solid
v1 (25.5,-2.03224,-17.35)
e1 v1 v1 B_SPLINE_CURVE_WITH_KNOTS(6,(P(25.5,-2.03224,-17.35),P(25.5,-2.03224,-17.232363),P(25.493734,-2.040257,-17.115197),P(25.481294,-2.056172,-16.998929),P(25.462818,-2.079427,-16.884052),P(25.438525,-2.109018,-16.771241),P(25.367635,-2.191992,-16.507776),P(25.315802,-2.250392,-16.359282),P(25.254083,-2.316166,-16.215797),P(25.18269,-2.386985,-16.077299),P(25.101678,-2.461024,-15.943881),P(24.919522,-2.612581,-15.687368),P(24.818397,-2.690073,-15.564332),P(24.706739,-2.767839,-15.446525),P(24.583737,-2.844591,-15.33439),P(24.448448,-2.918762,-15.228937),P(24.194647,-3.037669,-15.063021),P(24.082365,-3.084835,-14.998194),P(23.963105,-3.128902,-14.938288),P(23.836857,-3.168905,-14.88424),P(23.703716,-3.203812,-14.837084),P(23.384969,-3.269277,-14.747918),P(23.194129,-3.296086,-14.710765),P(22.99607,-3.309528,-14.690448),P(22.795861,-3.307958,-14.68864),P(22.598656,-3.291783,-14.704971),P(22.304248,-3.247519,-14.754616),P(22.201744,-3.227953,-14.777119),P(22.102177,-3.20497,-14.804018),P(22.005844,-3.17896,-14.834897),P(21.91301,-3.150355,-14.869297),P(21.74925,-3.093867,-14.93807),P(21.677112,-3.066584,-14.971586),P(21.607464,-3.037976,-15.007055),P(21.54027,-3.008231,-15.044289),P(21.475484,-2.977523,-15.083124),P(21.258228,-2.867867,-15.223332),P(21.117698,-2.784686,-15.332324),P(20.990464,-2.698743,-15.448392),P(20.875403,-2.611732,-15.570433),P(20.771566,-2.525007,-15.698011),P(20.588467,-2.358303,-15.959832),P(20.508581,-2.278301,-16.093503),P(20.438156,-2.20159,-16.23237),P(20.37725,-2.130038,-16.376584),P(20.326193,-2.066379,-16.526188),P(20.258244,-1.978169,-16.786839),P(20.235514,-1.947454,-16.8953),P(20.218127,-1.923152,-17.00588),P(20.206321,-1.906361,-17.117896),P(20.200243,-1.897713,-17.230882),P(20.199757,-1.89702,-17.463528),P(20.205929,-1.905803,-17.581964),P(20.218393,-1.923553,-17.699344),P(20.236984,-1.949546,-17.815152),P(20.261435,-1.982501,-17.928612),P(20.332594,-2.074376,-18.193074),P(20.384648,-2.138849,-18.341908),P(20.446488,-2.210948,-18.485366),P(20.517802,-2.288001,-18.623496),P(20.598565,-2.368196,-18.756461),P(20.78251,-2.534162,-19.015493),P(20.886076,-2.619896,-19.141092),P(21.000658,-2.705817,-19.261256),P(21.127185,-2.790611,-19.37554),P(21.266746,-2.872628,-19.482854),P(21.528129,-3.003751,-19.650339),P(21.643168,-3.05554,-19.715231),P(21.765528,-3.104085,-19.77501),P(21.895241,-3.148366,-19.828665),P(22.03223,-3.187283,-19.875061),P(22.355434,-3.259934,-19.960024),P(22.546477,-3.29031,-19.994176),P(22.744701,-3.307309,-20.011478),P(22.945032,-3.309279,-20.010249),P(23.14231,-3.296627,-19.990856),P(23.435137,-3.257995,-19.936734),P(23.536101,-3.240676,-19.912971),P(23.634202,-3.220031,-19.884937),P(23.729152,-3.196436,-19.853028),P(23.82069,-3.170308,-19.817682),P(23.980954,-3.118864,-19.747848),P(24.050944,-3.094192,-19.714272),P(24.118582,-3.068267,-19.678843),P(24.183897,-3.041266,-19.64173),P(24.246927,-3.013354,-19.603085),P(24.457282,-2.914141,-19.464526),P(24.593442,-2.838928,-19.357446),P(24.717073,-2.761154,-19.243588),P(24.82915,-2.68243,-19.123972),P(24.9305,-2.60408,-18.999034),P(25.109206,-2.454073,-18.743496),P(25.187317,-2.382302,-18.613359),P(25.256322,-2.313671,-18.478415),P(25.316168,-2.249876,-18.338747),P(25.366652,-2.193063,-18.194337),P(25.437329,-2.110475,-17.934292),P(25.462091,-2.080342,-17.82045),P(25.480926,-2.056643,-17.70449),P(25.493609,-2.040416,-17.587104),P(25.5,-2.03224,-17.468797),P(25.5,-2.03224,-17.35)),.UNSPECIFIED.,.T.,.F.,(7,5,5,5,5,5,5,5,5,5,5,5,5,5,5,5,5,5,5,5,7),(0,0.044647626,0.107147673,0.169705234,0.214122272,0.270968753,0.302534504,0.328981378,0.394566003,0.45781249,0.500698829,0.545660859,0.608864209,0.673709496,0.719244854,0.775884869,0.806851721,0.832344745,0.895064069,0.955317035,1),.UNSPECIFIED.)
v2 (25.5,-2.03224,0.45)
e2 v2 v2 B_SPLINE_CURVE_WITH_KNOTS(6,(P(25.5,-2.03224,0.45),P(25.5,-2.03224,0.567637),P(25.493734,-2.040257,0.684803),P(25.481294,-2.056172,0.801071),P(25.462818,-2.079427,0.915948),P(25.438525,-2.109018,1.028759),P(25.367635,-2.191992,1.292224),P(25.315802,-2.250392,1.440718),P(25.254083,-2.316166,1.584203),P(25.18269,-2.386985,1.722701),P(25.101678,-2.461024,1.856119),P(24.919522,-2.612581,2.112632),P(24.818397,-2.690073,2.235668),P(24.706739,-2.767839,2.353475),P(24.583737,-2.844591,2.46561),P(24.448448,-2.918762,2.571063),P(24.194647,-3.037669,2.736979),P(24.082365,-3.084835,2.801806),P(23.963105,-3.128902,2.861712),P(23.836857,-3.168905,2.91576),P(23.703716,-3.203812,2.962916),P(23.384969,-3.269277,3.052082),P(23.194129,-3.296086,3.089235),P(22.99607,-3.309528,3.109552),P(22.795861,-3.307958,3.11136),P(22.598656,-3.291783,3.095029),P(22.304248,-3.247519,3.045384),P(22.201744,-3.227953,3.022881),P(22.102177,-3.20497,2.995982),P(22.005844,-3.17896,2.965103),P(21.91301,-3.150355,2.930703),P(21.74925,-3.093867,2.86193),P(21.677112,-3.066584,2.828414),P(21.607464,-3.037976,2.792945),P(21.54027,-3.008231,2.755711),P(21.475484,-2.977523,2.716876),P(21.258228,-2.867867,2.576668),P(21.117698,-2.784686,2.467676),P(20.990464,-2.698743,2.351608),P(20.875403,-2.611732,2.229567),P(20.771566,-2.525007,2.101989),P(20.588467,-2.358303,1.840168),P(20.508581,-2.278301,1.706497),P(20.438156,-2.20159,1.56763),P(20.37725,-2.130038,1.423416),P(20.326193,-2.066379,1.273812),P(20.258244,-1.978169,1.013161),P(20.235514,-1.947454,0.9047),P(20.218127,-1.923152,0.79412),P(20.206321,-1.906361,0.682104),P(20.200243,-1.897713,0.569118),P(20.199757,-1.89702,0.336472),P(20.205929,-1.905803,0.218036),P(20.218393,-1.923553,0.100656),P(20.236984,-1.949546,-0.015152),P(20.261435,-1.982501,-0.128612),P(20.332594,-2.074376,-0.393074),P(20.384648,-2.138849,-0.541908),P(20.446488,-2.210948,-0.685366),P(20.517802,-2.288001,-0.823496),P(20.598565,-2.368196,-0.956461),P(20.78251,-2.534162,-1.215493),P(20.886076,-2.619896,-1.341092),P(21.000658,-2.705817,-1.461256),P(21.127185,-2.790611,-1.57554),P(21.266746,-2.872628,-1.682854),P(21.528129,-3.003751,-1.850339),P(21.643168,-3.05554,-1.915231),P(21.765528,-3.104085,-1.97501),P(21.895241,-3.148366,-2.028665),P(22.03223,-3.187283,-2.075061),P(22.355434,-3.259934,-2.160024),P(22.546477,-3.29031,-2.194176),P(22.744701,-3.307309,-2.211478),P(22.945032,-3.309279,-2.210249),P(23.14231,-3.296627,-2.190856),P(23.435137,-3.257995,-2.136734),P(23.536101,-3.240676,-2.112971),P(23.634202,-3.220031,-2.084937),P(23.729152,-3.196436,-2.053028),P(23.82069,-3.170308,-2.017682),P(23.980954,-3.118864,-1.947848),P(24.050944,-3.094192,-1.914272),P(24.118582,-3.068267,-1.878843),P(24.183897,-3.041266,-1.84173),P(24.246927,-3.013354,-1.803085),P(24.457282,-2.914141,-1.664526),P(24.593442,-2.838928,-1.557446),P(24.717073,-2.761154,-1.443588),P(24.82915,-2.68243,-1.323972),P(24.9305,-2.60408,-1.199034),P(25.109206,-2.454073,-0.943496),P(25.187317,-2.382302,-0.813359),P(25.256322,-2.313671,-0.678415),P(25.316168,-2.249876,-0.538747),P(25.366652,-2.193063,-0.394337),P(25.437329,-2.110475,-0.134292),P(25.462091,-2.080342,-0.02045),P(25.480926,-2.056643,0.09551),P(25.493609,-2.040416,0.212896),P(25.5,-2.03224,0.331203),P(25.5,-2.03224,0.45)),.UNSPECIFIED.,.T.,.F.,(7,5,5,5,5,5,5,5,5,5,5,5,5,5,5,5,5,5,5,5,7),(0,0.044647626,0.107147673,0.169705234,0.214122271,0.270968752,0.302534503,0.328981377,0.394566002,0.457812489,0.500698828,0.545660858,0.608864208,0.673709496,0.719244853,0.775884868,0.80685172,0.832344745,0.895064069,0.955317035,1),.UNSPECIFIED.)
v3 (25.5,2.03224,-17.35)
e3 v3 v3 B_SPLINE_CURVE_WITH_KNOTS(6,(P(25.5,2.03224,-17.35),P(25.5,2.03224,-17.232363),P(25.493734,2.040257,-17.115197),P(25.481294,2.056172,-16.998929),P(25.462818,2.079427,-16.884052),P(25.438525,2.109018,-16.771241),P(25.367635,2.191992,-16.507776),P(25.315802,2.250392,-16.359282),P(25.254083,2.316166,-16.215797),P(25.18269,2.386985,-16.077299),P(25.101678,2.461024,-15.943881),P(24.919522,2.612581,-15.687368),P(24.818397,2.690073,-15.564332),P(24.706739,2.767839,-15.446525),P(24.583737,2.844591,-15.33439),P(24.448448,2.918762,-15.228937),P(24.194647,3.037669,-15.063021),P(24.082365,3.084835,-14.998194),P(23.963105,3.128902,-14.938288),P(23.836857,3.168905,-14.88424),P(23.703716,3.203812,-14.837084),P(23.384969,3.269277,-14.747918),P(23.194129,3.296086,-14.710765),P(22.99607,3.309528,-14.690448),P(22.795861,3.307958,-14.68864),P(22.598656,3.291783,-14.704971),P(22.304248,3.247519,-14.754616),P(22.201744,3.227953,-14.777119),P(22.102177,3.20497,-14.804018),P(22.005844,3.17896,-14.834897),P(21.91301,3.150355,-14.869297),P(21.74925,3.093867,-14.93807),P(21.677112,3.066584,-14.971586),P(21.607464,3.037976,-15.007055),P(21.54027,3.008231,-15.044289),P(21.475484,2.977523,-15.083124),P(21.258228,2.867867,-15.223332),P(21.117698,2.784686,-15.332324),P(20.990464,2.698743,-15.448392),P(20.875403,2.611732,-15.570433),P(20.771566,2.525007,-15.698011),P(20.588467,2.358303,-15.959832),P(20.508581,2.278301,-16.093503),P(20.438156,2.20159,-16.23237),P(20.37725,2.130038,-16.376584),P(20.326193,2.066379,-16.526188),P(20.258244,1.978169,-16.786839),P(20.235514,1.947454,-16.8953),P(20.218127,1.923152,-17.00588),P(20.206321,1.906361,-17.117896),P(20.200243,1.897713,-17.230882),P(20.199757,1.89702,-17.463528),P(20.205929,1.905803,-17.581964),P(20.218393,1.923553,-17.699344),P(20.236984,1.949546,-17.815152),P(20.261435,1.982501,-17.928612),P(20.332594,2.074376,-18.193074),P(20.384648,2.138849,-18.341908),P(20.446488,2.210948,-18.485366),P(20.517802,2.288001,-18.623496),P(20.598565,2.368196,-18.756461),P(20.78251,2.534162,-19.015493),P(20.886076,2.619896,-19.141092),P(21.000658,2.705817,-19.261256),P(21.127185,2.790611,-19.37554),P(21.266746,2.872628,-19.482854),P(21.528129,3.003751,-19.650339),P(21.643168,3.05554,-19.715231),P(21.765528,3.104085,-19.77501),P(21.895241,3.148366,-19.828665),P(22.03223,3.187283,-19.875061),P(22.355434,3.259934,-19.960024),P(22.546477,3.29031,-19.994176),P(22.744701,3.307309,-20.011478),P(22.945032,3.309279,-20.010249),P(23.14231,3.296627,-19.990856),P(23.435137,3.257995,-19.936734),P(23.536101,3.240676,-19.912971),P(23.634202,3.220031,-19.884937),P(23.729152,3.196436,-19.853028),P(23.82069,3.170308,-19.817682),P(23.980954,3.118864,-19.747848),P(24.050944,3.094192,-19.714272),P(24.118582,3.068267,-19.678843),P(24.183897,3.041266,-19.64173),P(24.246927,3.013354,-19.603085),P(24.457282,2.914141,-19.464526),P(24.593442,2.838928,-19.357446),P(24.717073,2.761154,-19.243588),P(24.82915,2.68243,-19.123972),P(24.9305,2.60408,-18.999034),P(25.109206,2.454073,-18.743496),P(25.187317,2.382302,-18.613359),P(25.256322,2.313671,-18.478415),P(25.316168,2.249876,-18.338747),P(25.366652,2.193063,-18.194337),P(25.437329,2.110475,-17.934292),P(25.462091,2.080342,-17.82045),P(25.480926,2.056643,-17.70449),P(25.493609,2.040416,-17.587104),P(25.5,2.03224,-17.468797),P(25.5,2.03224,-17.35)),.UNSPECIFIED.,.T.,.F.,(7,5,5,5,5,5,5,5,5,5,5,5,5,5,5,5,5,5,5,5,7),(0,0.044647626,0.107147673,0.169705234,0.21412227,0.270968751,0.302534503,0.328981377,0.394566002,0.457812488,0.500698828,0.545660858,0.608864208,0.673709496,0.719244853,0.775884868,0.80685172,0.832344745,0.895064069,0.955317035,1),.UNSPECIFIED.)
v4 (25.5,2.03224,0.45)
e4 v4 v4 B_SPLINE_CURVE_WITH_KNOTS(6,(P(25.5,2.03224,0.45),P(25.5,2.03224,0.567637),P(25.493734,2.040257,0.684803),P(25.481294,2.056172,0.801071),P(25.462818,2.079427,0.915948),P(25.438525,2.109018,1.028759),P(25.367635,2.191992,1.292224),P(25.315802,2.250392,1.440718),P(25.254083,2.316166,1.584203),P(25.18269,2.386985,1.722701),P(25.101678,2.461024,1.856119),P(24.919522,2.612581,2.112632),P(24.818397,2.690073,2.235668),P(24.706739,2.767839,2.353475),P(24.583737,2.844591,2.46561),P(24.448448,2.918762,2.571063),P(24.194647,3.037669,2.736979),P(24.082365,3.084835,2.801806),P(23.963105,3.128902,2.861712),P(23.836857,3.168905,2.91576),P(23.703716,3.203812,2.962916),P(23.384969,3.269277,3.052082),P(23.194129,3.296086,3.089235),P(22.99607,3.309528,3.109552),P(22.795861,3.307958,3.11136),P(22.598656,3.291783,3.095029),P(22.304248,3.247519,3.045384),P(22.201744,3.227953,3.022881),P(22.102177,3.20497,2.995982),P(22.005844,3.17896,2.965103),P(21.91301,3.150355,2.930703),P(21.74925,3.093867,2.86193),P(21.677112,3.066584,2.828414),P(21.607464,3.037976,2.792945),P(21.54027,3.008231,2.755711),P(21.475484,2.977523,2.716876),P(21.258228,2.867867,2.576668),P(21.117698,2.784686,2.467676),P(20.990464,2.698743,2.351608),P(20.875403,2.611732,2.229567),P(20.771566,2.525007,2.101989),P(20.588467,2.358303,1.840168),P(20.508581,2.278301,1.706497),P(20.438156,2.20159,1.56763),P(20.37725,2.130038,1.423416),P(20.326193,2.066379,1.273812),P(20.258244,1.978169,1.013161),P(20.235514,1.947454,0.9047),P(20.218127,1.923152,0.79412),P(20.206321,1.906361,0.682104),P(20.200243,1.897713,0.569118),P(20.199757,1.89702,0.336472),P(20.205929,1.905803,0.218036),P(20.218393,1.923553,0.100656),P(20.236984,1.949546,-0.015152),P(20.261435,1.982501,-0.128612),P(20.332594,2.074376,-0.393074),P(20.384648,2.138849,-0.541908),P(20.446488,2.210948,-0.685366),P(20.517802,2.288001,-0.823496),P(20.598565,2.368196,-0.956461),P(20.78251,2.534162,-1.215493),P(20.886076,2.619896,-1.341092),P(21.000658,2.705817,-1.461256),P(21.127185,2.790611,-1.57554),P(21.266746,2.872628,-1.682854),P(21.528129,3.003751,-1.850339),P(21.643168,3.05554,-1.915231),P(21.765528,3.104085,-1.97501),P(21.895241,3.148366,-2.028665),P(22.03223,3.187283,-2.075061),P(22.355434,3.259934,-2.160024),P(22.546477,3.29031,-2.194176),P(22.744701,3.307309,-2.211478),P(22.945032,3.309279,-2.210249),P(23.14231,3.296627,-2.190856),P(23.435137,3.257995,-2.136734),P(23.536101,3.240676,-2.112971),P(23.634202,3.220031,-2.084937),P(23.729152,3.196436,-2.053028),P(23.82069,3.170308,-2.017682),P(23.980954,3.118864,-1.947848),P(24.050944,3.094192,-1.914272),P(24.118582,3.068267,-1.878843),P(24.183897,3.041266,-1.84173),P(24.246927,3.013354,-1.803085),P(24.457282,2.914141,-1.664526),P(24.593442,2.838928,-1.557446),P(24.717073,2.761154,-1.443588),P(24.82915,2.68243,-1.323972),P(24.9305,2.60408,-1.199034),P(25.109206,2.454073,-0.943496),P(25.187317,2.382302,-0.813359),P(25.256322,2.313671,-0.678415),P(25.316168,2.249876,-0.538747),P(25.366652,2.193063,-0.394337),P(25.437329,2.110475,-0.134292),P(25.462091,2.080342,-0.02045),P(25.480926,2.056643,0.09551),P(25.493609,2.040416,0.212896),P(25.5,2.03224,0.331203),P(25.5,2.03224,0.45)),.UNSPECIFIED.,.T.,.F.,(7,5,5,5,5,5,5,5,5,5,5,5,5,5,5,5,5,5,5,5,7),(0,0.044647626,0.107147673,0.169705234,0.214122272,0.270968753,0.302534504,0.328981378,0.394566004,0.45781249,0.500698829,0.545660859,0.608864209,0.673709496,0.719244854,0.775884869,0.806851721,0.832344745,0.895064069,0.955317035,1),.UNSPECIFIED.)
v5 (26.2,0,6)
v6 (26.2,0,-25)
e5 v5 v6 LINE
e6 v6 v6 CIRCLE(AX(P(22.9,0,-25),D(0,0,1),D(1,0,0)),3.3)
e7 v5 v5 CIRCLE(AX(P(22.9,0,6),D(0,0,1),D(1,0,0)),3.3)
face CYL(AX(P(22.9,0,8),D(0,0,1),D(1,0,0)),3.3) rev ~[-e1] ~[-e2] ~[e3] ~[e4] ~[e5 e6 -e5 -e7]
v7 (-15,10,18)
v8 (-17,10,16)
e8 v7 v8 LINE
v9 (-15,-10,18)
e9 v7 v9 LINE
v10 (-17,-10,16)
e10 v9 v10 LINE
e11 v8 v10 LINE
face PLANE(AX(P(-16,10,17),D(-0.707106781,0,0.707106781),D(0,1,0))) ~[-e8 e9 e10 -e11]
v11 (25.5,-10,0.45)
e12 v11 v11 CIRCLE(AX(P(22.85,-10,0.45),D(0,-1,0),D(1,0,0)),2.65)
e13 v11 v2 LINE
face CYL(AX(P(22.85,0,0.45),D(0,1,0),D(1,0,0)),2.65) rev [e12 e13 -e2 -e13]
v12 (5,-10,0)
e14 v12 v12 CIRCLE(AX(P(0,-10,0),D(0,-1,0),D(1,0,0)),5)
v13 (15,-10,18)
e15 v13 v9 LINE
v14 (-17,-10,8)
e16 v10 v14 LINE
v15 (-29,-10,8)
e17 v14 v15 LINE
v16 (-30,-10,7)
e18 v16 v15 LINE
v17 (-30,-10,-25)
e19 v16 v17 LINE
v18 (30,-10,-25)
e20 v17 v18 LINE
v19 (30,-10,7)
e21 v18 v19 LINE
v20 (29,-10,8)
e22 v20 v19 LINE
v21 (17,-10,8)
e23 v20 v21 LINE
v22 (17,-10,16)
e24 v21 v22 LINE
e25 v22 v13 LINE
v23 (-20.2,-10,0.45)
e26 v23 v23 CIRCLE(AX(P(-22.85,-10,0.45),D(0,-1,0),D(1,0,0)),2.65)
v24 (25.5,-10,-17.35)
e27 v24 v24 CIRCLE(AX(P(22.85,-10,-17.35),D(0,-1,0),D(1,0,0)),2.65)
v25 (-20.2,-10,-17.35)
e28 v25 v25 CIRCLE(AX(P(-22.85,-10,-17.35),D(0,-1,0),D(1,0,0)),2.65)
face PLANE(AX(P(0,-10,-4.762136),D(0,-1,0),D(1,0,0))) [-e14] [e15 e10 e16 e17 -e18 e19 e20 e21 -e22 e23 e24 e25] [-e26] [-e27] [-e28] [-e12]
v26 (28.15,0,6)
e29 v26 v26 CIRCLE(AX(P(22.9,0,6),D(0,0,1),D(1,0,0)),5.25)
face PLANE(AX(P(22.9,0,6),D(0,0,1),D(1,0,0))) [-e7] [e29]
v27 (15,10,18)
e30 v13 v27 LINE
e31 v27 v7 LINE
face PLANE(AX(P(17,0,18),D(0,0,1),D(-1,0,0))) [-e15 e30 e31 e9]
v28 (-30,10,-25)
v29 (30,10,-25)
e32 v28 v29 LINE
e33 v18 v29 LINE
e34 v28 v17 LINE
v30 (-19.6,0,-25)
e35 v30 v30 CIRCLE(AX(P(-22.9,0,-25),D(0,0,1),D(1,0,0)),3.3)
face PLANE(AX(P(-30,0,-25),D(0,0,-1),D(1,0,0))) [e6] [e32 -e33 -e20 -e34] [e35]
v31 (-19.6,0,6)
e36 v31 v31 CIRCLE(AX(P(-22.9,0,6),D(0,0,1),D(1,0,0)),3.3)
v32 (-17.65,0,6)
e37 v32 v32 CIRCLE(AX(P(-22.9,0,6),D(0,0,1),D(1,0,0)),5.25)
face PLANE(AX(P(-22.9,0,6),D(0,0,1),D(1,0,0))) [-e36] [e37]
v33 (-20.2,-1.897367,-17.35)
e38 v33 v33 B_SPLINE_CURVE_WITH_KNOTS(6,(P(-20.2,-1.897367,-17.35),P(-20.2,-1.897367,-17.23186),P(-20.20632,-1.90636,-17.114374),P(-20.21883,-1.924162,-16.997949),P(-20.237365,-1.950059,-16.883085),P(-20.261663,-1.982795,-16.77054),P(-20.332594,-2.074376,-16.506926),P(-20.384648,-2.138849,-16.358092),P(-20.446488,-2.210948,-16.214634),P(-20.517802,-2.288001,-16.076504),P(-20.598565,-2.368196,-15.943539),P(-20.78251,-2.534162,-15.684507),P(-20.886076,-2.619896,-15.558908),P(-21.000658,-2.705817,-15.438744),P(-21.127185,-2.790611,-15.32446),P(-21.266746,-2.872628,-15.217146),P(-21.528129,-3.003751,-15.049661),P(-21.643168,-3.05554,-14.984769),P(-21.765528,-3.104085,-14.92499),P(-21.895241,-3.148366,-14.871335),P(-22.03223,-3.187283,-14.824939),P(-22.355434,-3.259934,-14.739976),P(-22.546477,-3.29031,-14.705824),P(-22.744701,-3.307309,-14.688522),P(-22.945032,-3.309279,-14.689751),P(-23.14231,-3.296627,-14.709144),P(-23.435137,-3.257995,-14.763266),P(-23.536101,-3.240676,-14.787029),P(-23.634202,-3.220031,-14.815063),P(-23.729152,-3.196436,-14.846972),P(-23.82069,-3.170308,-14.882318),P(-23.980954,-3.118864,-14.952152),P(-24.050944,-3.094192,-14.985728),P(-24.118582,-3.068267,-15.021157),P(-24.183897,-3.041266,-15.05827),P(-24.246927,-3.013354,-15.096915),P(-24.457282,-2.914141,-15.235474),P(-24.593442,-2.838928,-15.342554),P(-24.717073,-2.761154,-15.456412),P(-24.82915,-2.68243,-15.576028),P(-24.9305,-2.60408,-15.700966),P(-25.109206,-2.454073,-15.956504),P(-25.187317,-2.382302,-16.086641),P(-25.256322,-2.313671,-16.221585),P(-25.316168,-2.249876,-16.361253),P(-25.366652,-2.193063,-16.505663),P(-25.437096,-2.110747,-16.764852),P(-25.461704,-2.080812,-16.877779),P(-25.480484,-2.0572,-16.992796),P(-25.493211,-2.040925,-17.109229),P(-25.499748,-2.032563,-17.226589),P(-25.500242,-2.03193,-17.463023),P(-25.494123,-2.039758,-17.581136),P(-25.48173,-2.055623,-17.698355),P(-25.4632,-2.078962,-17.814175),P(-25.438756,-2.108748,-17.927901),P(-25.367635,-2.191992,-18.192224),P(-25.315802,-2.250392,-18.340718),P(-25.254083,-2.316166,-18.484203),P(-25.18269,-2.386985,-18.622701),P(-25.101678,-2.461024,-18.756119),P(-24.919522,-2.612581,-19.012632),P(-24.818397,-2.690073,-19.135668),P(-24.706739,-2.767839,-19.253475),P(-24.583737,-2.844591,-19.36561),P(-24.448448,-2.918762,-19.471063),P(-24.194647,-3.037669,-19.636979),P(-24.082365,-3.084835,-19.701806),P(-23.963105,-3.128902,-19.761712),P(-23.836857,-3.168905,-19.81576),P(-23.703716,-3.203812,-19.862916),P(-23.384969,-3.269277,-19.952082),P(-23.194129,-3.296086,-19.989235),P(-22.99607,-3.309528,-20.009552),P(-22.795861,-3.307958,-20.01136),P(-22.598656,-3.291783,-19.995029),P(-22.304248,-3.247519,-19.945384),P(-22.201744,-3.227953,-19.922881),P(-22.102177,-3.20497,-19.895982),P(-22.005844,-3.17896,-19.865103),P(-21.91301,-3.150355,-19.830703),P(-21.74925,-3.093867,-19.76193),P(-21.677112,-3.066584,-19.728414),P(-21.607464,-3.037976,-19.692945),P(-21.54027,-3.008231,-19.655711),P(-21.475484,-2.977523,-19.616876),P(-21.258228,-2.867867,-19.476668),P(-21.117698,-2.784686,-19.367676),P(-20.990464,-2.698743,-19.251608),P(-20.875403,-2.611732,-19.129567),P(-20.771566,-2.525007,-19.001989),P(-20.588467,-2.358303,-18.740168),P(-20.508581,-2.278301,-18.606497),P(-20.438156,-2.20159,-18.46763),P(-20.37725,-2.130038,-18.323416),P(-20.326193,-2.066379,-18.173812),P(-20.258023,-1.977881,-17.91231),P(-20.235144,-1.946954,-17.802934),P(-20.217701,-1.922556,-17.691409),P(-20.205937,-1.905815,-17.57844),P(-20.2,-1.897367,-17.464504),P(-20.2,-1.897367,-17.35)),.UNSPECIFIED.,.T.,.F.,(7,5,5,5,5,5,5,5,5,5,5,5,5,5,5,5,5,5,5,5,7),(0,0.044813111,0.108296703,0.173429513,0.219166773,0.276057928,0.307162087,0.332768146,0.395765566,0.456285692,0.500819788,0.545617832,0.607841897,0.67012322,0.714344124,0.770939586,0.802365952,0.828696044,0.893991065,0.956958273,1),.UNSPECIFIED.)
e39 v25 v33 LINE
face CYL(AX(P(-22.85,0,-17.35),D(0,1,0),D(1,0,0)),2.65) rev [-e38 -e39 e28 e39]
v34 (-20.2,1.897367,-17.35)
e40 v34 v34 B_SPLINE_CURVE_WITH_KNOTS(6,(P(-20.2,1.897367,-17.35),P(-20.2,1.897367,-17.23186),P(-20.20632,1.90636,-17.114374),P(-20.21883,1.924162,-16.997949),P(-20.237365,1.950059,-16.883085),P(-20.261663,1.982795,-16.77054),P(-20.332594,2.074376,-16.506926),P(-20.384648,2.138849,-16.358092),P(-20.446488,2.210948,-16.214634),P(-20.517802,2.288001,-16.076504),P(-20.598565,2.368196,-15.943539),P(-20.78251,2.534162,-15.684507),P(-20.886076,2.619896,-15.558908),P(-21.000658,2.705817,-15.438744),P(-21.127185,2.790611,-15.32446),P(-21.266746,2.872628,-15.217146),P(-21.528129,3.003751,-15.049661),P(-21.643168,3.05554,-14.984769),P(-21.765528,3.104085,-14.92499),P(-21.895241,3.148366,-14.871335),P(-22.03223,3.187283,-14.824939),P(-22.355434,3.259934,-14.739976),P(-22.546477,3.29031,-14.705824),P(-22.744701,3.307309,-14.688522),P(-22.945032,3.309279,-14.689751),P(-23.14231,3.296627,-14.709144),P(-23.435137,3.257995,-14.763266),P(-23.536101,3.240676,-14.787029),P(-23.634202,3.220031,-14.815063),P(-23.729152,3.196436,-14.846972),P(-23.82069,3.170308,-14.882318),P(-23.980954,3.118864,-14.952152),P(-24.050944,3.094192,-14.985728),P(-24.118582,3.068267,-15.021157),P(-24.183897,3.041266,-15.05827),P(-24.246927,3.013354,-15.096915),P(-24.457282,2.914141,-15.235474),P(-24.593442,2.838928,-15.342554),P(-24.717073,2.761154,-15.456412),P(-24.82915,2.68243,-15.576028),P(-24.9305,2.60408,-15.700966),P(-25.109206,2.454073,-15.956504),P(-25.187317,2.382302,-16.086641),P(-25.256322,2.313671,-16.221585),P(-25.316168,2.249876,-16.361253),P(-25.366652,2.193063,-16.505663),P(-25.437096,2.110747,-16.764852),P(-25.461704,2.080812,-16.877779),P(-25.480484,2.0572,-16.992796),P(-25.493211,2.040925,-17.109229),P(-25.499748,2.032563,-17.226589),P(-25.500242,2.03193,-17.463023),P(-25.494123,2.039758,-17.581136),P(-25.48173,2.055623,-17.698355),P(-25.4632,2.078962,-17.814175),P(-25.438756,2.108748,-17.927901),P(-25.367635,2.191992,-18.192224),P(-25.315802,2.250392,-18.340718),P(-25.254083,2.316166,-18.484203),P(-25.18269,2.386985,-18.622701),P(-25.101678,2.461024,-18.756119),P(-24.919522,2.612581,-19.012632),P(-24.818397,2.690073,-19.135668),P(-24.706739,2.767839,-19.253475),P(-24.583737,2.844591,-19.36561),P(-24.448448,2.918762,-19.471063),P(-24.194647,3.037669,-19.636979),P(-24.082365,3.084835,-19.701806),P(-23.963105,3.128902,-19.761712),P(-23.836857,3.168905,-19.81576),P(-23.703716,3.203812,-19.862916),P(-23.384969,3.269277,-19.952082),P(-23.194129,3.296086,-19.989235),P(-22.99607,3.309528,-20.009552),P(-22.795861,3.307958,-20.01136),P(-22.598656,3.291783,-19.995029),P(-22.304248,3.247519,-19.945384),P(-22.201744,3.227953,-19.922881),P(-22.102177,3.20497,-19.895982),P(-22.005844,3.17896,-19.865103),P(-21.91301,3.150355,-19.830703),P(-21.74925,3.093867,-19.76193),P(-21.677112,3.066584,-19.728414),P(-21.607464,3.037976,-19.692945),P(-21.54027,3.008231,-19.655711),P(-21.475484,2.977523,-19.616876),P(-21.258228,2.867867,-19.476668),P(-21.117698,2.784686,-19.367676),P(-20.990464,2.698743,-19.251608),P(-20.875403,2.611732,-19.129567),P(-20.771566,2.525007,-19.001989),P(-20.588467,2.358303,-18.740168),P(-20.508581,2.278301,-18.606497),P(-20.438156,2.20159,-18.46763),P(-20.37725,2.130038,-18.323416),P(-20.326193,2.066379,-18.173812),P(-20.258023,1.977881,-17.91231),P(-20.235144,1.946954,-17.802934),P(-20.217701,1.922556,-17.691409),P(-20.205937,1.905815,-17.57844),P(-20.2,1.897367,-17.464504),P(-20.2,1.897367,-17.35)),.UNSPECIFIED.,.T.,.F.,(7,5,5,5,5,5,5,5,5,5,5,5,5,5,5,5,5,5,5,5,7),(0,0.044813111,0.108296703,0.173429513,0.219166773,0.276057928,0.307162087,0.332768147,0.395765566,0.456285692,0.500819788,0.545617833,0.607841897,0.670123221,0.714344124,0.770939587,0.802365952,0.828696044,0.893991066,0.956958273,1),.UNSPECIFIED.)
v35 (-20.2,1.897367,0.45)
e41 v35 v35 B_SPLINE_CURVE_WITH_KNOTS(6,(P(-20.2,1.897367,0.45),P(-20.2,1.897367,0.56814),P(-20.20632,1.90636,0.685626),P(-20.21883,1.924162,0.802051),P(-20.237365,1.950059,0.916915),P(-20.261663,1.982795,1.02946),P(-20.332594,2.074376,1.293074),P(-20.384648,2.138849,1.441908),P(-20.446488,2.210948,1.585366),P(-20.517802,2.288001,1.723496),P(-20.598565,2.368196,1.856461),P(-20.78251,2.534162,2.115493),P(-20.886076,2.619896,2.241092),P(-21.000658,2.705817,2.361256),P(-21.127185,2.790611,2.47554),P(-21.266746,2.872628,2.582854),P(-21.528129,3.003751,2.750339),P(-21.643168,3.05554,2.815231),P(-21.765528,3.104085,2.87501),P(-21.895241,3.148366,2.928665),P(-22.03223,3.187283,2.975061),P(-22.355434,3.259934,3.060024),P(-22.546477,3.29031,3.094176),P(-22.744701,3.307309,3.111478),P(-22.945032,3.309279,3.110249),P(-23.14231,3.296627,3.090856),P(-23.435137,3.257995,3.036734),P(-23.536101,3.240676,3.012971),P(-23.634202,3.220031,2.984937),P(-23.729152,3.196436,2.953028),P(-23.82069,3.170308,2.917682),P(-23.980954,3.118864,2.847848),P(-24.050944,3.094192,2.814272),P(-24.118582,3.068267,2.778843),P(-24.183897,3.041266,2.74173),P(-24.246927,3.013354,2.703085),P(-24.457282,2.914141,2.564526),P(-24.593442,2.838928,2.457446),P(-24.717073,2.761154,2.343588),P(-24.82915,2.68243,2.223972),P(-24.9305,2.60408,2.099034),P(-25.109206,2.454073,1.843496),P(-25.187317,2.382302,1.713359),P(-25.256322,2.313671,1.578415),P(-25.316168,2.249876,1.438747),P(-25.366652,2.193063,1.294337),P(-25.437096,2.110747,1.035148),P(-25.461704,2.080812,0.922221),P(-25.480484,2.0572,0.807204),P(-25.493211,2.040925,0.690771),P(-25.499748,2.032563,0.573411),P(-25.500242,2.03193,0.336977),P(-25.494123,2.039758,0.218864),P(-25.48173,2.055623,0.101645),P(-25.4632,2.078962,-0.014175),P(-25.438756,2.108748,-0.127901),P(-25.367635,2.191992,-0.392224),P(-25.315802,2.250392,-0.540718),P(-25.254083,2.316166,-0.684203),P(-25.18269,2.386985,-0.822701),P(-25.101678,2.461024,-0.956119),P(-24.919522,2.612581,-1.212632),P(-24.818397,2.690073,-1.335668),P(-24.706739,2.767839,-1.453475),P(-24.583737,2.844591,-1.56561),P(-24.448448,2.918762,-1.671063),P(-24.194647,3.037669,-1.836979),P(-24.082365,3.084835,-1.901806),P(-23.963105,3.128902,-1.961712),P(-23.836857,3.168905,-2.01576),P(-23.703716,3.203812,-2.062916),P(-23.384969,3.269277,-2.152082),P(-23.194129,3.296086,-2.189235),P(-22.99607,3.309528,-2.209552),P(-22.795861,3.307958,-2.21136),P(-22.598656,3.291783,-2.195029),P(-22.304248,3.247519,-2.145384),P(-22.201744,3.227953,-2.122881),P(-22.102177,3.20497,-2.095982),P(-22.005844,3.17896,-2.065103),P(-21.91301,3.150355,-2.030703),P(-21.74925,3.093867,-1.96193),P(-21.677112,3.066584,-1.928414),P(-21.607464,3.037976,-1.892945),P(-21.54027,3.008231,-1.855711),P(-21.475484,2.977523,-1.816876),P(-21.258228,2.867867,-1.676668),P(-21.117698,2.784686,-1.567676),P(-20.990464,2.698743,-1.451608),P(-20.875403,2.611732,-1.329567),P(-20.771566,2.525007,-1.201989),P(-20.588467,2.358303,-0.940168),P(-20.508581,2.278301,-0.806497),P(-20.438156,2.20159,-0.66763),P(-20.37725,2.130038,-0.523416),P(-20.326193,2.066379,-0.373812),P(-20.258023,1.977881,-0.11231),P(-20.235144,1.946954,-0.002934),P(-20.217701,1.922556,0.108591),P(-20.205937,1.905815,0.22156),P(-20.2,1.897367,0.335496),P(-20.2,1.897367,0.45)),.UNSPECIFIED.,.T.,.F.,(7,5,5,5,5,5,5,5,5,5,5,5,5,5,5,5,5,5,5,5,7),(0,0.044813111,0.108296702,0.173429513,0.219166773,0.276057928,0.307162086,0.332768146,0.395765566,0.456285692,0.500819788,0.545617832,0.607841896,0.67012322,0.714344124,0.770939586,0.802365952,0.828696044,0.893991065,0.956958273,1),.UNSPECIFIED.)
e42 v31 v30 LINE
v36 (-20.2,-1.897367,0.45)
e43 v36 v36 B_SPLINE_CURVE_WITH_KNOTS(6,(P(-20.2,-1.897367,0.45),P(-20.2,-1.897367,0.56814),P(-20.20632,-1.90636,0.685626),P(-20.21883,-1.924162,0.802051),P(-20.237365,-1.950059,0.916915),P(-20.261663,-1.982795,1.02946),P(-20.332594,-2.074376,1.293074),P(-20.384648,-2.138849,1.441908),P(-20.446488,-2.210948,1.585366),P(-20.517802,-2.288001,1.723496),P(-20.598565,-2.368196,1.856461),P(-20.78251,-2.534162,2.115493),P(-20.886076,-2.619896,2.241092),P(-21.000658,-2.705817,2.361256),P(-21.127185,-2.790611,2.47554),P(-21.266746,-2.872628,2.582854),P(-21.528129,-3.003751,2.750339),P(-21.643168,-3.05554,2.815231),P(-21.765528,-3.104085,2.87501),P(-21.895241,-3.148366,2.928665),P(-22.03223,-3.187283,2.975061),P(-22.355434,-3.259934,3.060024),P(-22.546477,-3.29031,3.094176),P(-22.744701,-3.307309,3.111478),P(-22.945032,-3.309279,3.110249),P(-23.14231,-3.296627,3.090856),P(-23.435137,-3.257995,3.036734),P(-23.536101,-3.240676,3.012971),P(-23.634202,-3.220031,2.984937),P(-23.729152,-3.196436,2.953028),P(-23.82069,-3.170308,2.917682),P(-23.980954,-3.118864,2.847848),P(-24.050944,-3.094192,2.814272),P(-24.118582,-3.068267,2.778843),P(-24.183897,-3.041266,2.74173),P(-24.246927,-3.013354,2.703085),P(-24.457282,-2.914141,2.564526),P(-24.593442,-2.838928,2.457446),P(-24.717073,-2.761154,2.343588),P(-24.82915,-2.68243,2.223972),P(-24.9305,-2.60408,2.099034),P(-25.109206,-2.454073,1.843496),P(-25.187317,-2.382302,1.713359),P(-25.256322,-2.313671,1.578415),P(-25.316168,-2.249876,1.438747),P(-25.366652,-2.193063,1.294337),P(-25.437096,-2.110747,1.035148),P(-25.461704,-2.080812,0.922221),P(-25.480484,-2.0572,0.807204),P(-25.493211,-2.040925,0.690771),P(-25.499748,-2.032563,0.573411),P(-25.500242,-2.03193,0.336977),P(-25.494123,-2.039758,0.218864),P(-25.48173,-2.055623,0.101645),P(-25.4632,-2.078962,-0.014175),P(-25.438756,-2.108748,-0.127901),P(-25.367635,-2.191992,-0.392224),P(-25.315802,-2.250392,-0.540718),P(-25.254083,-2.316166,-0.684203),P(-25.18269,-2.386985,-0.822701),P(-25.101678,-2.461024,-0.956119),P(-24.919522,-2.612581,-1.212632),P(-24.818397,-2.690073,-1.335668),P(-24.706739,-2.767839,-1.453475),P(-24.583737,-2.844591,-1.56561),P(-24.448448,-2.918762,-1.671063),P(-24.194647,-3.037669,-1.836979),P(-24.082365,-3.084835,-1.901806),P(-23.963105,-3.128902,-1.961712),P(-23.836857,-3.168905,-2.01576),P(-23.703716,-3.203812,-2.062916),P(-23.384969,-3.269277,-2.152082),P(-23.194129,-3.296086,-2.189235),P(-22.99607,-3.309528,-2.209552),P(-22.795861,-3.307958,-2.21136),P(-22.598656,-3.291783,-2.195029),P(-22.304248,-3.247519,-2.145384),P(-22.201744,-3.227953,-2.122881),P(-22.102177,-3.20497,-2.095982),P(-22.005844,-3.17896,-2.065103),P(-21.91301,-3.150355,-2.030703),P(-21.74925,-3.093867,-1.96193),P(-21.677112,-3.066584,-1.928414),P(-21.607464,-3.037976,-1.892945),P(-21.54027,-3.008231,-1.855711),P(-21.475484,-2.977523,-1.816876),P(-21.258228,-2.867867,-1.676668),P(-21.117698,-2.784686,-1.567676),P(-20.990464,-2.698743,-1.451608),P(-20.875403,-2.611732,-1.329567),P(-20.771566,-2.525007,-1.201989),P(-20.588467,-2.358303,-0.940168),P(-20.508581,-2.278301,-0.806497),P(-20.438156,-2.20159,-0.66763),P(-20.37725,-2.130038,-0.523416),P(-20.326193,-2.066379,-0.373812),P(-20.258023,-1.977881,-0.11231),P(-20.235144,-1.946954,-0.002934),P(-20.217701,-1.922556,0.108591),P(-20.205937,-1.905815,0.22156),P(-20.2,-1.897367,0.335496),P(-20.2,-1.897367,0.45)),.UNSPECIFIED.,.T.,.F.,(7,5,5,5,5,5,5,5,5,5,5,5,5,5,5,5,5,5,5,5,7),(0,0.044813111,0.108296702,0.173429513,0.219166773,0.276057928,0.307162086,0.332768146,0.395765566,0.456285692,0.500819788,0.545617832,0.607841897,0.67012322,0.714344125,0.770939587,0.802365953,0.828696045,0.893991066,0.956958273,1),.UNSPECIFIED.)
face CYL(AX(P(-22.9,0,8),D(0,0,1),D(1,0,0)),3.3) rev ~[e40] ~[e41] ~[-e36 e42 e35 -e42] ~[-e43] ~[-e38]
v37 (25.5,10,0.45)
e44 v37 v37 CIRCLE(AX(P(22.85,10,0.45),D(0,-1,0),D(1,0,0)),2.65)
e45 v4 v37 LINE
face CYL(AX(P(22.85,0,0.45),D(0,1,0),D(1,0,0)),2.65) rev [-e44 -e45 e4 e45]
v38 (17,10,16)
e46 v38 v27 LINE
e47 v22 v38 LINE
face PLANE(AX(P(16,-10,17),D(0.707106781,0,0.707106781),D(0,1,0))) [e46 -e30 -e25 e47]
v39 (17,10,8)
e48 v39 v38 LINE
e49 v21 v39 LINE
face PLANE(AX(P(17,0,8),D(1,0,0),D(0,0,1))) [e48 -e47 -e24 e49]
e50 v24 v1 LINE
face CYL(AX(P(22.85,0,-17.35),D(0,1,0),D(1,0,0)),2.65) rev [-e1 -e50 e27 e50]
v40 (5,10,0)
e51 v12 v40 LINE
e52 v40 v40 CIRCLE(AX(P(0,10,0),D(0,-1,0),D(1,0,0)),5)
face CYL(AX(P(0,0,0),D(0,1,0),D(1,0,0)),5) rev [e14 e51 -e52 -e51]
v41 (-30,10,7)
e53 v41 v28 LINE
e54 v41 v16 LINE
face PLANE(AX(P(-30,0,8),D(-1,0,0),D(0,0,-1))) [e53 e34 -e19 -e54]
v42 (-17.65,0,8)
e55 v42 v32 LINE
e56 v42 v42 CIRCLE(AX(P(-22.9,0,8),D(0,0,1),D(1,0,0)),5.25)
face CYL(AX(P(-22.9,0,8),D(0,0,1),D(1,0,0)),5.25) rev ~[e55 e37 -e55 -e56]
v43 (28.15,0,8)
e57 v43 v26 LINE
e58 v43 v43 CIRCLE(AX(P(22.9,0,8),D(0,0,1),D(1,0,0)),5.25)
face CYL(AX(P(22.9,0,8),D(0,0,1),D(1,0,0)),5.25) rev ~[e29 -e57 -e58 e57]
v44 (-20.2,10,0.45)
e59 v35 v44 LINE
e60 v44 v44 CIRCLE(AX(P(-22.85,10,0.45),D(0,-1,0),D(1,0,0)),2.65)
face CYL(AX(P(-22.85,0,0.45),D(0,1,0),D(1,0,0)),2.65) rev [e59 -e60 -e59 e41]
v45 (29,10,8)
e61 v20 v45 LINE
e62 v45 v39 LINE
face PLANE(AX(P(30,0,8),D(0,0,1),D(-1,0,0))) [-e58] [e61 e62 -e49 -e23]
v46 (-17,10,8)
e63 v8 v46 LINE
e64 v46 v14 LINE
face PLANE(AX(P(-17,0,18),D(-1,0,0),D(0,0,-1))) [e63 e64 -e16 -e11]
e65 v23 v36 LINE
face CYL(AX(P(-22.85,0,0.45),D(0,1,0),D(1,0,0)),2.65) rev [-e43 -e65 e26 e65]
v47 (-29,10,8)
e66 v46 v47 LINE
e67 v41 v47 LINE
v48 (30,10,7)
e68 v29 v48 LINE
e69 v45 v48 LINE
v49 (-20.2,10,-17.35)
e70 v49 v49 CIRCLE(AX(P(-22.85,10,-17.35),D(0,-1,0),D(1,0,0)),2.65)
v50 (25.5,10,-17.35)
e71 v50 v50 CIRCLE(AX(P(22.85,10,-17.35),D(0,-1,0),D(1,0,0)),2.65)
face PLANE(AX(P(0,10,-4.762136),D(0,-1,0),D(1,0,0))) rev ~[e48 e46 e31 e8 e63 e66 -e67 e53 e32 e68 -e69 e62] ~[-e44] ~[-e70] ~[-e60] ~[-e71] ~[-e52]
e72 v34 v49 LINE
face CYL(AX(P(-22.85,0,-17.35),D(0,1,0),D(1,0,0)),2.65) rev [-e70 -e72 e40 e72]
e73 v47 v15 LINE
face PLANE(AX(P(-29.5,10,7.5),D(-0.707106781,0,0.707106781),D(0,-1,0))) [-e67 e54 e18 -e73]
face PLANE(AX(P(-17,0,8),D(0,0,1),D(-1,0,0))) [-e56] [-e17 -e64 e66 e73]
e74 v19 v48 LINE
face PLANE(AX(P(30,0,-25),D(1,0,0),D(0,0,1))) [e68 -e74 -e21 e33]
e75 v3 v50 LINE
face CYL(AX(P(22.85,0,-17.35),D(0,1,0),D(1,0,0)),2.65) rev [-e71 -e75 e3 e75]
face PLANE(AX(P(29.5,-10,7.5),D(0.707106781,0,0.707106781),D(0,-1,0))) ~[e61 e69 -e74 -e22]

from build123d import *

# Parameters (mm, degrees)
F0_R     = 2.65
F0_R_2   = 5
F1_DEPTH = 10
F2_SIZE  = 1
F3_SIZE  = 2
F4_R     = 3.3
F5_DEPTH = 33
F4_R_2   = 5.25
F6_DEPTH = 2


with BuildPart() as f1:
    # F0 (on Front) → F1 (new body, symmetric)
    with BuildSketch(Plane.XZ):
        Polygon((17, 18), (0, 18), (-17, 18), (-17, 8), (-30, 8), (-30, -25), (0, -25), (30, -25), (30, 8), (17, 8), align=None)
        with Locations((-22.85, -17.35)):
            Circle(F0_R, mode=Mode.SUBTRACT)
        with Locations((22.85, -17.35)):
            Circle(F0_R, mode=Mode.SUBTRACT)
        with Locations((-22.85, 0.45)):
            Circle(F0_R, mode=Mode.SUBTRACT)
        Circle(F0_R_2, mode=Mode.SUBTRACT)
        with Locations((22.85, 0.45)):
            Circle(F0_R, mode=Mode.SUBTRACT)
    extrude(amount=F1_DEPTH, both=True)

    # F2
    f2_edges = [f1.edges().sort_by_distance(p)[0] for p in [
        (30, 0, 8),
        (-30, 0, 8),
    ]]
    chamfer(f2_edges, length=F2_SIZE)

    # F3
    f3_edges = [f1.edges().sort_by_distance(p)[0] for p in [
        (17, 0, 18),
        (-17, 0, 18),
    ]]
    chamfer(f3_edges, length=F3_SIZE)

    # F4 (on face) → F5 (cut, through all)
    with BuildSketch(Plane.XY.offset(8)):
        with Locations((-22.9, 0)):
            Circle(F4_R)
        with Locations((22.9, 0)):
            Circle(F4_R)
    extrude(amount=-F5_DEPTH, mode=Mode.SUBTRACT)

    # F4 (on face) → F6 (cut)
    with BuildSketch(Plane.XY.offset(8)):
        with Locations((22.9, 0)):
            Circle(F4_R_2)
        with Locations((22.9, 0)):
            Circle(F4_R, mode=Mode.SUBTRACT)
        with Locations((-22.9, 0)):
            Circle(F4_R_2)
        with Locations((-22.9, 0)):
            Circle(F4_R, mode=Mode.SUBTRACT)
    extrude(amount=-F6_DEPTH, mode=Mode.SUBTRACT)


solid = f1.part
